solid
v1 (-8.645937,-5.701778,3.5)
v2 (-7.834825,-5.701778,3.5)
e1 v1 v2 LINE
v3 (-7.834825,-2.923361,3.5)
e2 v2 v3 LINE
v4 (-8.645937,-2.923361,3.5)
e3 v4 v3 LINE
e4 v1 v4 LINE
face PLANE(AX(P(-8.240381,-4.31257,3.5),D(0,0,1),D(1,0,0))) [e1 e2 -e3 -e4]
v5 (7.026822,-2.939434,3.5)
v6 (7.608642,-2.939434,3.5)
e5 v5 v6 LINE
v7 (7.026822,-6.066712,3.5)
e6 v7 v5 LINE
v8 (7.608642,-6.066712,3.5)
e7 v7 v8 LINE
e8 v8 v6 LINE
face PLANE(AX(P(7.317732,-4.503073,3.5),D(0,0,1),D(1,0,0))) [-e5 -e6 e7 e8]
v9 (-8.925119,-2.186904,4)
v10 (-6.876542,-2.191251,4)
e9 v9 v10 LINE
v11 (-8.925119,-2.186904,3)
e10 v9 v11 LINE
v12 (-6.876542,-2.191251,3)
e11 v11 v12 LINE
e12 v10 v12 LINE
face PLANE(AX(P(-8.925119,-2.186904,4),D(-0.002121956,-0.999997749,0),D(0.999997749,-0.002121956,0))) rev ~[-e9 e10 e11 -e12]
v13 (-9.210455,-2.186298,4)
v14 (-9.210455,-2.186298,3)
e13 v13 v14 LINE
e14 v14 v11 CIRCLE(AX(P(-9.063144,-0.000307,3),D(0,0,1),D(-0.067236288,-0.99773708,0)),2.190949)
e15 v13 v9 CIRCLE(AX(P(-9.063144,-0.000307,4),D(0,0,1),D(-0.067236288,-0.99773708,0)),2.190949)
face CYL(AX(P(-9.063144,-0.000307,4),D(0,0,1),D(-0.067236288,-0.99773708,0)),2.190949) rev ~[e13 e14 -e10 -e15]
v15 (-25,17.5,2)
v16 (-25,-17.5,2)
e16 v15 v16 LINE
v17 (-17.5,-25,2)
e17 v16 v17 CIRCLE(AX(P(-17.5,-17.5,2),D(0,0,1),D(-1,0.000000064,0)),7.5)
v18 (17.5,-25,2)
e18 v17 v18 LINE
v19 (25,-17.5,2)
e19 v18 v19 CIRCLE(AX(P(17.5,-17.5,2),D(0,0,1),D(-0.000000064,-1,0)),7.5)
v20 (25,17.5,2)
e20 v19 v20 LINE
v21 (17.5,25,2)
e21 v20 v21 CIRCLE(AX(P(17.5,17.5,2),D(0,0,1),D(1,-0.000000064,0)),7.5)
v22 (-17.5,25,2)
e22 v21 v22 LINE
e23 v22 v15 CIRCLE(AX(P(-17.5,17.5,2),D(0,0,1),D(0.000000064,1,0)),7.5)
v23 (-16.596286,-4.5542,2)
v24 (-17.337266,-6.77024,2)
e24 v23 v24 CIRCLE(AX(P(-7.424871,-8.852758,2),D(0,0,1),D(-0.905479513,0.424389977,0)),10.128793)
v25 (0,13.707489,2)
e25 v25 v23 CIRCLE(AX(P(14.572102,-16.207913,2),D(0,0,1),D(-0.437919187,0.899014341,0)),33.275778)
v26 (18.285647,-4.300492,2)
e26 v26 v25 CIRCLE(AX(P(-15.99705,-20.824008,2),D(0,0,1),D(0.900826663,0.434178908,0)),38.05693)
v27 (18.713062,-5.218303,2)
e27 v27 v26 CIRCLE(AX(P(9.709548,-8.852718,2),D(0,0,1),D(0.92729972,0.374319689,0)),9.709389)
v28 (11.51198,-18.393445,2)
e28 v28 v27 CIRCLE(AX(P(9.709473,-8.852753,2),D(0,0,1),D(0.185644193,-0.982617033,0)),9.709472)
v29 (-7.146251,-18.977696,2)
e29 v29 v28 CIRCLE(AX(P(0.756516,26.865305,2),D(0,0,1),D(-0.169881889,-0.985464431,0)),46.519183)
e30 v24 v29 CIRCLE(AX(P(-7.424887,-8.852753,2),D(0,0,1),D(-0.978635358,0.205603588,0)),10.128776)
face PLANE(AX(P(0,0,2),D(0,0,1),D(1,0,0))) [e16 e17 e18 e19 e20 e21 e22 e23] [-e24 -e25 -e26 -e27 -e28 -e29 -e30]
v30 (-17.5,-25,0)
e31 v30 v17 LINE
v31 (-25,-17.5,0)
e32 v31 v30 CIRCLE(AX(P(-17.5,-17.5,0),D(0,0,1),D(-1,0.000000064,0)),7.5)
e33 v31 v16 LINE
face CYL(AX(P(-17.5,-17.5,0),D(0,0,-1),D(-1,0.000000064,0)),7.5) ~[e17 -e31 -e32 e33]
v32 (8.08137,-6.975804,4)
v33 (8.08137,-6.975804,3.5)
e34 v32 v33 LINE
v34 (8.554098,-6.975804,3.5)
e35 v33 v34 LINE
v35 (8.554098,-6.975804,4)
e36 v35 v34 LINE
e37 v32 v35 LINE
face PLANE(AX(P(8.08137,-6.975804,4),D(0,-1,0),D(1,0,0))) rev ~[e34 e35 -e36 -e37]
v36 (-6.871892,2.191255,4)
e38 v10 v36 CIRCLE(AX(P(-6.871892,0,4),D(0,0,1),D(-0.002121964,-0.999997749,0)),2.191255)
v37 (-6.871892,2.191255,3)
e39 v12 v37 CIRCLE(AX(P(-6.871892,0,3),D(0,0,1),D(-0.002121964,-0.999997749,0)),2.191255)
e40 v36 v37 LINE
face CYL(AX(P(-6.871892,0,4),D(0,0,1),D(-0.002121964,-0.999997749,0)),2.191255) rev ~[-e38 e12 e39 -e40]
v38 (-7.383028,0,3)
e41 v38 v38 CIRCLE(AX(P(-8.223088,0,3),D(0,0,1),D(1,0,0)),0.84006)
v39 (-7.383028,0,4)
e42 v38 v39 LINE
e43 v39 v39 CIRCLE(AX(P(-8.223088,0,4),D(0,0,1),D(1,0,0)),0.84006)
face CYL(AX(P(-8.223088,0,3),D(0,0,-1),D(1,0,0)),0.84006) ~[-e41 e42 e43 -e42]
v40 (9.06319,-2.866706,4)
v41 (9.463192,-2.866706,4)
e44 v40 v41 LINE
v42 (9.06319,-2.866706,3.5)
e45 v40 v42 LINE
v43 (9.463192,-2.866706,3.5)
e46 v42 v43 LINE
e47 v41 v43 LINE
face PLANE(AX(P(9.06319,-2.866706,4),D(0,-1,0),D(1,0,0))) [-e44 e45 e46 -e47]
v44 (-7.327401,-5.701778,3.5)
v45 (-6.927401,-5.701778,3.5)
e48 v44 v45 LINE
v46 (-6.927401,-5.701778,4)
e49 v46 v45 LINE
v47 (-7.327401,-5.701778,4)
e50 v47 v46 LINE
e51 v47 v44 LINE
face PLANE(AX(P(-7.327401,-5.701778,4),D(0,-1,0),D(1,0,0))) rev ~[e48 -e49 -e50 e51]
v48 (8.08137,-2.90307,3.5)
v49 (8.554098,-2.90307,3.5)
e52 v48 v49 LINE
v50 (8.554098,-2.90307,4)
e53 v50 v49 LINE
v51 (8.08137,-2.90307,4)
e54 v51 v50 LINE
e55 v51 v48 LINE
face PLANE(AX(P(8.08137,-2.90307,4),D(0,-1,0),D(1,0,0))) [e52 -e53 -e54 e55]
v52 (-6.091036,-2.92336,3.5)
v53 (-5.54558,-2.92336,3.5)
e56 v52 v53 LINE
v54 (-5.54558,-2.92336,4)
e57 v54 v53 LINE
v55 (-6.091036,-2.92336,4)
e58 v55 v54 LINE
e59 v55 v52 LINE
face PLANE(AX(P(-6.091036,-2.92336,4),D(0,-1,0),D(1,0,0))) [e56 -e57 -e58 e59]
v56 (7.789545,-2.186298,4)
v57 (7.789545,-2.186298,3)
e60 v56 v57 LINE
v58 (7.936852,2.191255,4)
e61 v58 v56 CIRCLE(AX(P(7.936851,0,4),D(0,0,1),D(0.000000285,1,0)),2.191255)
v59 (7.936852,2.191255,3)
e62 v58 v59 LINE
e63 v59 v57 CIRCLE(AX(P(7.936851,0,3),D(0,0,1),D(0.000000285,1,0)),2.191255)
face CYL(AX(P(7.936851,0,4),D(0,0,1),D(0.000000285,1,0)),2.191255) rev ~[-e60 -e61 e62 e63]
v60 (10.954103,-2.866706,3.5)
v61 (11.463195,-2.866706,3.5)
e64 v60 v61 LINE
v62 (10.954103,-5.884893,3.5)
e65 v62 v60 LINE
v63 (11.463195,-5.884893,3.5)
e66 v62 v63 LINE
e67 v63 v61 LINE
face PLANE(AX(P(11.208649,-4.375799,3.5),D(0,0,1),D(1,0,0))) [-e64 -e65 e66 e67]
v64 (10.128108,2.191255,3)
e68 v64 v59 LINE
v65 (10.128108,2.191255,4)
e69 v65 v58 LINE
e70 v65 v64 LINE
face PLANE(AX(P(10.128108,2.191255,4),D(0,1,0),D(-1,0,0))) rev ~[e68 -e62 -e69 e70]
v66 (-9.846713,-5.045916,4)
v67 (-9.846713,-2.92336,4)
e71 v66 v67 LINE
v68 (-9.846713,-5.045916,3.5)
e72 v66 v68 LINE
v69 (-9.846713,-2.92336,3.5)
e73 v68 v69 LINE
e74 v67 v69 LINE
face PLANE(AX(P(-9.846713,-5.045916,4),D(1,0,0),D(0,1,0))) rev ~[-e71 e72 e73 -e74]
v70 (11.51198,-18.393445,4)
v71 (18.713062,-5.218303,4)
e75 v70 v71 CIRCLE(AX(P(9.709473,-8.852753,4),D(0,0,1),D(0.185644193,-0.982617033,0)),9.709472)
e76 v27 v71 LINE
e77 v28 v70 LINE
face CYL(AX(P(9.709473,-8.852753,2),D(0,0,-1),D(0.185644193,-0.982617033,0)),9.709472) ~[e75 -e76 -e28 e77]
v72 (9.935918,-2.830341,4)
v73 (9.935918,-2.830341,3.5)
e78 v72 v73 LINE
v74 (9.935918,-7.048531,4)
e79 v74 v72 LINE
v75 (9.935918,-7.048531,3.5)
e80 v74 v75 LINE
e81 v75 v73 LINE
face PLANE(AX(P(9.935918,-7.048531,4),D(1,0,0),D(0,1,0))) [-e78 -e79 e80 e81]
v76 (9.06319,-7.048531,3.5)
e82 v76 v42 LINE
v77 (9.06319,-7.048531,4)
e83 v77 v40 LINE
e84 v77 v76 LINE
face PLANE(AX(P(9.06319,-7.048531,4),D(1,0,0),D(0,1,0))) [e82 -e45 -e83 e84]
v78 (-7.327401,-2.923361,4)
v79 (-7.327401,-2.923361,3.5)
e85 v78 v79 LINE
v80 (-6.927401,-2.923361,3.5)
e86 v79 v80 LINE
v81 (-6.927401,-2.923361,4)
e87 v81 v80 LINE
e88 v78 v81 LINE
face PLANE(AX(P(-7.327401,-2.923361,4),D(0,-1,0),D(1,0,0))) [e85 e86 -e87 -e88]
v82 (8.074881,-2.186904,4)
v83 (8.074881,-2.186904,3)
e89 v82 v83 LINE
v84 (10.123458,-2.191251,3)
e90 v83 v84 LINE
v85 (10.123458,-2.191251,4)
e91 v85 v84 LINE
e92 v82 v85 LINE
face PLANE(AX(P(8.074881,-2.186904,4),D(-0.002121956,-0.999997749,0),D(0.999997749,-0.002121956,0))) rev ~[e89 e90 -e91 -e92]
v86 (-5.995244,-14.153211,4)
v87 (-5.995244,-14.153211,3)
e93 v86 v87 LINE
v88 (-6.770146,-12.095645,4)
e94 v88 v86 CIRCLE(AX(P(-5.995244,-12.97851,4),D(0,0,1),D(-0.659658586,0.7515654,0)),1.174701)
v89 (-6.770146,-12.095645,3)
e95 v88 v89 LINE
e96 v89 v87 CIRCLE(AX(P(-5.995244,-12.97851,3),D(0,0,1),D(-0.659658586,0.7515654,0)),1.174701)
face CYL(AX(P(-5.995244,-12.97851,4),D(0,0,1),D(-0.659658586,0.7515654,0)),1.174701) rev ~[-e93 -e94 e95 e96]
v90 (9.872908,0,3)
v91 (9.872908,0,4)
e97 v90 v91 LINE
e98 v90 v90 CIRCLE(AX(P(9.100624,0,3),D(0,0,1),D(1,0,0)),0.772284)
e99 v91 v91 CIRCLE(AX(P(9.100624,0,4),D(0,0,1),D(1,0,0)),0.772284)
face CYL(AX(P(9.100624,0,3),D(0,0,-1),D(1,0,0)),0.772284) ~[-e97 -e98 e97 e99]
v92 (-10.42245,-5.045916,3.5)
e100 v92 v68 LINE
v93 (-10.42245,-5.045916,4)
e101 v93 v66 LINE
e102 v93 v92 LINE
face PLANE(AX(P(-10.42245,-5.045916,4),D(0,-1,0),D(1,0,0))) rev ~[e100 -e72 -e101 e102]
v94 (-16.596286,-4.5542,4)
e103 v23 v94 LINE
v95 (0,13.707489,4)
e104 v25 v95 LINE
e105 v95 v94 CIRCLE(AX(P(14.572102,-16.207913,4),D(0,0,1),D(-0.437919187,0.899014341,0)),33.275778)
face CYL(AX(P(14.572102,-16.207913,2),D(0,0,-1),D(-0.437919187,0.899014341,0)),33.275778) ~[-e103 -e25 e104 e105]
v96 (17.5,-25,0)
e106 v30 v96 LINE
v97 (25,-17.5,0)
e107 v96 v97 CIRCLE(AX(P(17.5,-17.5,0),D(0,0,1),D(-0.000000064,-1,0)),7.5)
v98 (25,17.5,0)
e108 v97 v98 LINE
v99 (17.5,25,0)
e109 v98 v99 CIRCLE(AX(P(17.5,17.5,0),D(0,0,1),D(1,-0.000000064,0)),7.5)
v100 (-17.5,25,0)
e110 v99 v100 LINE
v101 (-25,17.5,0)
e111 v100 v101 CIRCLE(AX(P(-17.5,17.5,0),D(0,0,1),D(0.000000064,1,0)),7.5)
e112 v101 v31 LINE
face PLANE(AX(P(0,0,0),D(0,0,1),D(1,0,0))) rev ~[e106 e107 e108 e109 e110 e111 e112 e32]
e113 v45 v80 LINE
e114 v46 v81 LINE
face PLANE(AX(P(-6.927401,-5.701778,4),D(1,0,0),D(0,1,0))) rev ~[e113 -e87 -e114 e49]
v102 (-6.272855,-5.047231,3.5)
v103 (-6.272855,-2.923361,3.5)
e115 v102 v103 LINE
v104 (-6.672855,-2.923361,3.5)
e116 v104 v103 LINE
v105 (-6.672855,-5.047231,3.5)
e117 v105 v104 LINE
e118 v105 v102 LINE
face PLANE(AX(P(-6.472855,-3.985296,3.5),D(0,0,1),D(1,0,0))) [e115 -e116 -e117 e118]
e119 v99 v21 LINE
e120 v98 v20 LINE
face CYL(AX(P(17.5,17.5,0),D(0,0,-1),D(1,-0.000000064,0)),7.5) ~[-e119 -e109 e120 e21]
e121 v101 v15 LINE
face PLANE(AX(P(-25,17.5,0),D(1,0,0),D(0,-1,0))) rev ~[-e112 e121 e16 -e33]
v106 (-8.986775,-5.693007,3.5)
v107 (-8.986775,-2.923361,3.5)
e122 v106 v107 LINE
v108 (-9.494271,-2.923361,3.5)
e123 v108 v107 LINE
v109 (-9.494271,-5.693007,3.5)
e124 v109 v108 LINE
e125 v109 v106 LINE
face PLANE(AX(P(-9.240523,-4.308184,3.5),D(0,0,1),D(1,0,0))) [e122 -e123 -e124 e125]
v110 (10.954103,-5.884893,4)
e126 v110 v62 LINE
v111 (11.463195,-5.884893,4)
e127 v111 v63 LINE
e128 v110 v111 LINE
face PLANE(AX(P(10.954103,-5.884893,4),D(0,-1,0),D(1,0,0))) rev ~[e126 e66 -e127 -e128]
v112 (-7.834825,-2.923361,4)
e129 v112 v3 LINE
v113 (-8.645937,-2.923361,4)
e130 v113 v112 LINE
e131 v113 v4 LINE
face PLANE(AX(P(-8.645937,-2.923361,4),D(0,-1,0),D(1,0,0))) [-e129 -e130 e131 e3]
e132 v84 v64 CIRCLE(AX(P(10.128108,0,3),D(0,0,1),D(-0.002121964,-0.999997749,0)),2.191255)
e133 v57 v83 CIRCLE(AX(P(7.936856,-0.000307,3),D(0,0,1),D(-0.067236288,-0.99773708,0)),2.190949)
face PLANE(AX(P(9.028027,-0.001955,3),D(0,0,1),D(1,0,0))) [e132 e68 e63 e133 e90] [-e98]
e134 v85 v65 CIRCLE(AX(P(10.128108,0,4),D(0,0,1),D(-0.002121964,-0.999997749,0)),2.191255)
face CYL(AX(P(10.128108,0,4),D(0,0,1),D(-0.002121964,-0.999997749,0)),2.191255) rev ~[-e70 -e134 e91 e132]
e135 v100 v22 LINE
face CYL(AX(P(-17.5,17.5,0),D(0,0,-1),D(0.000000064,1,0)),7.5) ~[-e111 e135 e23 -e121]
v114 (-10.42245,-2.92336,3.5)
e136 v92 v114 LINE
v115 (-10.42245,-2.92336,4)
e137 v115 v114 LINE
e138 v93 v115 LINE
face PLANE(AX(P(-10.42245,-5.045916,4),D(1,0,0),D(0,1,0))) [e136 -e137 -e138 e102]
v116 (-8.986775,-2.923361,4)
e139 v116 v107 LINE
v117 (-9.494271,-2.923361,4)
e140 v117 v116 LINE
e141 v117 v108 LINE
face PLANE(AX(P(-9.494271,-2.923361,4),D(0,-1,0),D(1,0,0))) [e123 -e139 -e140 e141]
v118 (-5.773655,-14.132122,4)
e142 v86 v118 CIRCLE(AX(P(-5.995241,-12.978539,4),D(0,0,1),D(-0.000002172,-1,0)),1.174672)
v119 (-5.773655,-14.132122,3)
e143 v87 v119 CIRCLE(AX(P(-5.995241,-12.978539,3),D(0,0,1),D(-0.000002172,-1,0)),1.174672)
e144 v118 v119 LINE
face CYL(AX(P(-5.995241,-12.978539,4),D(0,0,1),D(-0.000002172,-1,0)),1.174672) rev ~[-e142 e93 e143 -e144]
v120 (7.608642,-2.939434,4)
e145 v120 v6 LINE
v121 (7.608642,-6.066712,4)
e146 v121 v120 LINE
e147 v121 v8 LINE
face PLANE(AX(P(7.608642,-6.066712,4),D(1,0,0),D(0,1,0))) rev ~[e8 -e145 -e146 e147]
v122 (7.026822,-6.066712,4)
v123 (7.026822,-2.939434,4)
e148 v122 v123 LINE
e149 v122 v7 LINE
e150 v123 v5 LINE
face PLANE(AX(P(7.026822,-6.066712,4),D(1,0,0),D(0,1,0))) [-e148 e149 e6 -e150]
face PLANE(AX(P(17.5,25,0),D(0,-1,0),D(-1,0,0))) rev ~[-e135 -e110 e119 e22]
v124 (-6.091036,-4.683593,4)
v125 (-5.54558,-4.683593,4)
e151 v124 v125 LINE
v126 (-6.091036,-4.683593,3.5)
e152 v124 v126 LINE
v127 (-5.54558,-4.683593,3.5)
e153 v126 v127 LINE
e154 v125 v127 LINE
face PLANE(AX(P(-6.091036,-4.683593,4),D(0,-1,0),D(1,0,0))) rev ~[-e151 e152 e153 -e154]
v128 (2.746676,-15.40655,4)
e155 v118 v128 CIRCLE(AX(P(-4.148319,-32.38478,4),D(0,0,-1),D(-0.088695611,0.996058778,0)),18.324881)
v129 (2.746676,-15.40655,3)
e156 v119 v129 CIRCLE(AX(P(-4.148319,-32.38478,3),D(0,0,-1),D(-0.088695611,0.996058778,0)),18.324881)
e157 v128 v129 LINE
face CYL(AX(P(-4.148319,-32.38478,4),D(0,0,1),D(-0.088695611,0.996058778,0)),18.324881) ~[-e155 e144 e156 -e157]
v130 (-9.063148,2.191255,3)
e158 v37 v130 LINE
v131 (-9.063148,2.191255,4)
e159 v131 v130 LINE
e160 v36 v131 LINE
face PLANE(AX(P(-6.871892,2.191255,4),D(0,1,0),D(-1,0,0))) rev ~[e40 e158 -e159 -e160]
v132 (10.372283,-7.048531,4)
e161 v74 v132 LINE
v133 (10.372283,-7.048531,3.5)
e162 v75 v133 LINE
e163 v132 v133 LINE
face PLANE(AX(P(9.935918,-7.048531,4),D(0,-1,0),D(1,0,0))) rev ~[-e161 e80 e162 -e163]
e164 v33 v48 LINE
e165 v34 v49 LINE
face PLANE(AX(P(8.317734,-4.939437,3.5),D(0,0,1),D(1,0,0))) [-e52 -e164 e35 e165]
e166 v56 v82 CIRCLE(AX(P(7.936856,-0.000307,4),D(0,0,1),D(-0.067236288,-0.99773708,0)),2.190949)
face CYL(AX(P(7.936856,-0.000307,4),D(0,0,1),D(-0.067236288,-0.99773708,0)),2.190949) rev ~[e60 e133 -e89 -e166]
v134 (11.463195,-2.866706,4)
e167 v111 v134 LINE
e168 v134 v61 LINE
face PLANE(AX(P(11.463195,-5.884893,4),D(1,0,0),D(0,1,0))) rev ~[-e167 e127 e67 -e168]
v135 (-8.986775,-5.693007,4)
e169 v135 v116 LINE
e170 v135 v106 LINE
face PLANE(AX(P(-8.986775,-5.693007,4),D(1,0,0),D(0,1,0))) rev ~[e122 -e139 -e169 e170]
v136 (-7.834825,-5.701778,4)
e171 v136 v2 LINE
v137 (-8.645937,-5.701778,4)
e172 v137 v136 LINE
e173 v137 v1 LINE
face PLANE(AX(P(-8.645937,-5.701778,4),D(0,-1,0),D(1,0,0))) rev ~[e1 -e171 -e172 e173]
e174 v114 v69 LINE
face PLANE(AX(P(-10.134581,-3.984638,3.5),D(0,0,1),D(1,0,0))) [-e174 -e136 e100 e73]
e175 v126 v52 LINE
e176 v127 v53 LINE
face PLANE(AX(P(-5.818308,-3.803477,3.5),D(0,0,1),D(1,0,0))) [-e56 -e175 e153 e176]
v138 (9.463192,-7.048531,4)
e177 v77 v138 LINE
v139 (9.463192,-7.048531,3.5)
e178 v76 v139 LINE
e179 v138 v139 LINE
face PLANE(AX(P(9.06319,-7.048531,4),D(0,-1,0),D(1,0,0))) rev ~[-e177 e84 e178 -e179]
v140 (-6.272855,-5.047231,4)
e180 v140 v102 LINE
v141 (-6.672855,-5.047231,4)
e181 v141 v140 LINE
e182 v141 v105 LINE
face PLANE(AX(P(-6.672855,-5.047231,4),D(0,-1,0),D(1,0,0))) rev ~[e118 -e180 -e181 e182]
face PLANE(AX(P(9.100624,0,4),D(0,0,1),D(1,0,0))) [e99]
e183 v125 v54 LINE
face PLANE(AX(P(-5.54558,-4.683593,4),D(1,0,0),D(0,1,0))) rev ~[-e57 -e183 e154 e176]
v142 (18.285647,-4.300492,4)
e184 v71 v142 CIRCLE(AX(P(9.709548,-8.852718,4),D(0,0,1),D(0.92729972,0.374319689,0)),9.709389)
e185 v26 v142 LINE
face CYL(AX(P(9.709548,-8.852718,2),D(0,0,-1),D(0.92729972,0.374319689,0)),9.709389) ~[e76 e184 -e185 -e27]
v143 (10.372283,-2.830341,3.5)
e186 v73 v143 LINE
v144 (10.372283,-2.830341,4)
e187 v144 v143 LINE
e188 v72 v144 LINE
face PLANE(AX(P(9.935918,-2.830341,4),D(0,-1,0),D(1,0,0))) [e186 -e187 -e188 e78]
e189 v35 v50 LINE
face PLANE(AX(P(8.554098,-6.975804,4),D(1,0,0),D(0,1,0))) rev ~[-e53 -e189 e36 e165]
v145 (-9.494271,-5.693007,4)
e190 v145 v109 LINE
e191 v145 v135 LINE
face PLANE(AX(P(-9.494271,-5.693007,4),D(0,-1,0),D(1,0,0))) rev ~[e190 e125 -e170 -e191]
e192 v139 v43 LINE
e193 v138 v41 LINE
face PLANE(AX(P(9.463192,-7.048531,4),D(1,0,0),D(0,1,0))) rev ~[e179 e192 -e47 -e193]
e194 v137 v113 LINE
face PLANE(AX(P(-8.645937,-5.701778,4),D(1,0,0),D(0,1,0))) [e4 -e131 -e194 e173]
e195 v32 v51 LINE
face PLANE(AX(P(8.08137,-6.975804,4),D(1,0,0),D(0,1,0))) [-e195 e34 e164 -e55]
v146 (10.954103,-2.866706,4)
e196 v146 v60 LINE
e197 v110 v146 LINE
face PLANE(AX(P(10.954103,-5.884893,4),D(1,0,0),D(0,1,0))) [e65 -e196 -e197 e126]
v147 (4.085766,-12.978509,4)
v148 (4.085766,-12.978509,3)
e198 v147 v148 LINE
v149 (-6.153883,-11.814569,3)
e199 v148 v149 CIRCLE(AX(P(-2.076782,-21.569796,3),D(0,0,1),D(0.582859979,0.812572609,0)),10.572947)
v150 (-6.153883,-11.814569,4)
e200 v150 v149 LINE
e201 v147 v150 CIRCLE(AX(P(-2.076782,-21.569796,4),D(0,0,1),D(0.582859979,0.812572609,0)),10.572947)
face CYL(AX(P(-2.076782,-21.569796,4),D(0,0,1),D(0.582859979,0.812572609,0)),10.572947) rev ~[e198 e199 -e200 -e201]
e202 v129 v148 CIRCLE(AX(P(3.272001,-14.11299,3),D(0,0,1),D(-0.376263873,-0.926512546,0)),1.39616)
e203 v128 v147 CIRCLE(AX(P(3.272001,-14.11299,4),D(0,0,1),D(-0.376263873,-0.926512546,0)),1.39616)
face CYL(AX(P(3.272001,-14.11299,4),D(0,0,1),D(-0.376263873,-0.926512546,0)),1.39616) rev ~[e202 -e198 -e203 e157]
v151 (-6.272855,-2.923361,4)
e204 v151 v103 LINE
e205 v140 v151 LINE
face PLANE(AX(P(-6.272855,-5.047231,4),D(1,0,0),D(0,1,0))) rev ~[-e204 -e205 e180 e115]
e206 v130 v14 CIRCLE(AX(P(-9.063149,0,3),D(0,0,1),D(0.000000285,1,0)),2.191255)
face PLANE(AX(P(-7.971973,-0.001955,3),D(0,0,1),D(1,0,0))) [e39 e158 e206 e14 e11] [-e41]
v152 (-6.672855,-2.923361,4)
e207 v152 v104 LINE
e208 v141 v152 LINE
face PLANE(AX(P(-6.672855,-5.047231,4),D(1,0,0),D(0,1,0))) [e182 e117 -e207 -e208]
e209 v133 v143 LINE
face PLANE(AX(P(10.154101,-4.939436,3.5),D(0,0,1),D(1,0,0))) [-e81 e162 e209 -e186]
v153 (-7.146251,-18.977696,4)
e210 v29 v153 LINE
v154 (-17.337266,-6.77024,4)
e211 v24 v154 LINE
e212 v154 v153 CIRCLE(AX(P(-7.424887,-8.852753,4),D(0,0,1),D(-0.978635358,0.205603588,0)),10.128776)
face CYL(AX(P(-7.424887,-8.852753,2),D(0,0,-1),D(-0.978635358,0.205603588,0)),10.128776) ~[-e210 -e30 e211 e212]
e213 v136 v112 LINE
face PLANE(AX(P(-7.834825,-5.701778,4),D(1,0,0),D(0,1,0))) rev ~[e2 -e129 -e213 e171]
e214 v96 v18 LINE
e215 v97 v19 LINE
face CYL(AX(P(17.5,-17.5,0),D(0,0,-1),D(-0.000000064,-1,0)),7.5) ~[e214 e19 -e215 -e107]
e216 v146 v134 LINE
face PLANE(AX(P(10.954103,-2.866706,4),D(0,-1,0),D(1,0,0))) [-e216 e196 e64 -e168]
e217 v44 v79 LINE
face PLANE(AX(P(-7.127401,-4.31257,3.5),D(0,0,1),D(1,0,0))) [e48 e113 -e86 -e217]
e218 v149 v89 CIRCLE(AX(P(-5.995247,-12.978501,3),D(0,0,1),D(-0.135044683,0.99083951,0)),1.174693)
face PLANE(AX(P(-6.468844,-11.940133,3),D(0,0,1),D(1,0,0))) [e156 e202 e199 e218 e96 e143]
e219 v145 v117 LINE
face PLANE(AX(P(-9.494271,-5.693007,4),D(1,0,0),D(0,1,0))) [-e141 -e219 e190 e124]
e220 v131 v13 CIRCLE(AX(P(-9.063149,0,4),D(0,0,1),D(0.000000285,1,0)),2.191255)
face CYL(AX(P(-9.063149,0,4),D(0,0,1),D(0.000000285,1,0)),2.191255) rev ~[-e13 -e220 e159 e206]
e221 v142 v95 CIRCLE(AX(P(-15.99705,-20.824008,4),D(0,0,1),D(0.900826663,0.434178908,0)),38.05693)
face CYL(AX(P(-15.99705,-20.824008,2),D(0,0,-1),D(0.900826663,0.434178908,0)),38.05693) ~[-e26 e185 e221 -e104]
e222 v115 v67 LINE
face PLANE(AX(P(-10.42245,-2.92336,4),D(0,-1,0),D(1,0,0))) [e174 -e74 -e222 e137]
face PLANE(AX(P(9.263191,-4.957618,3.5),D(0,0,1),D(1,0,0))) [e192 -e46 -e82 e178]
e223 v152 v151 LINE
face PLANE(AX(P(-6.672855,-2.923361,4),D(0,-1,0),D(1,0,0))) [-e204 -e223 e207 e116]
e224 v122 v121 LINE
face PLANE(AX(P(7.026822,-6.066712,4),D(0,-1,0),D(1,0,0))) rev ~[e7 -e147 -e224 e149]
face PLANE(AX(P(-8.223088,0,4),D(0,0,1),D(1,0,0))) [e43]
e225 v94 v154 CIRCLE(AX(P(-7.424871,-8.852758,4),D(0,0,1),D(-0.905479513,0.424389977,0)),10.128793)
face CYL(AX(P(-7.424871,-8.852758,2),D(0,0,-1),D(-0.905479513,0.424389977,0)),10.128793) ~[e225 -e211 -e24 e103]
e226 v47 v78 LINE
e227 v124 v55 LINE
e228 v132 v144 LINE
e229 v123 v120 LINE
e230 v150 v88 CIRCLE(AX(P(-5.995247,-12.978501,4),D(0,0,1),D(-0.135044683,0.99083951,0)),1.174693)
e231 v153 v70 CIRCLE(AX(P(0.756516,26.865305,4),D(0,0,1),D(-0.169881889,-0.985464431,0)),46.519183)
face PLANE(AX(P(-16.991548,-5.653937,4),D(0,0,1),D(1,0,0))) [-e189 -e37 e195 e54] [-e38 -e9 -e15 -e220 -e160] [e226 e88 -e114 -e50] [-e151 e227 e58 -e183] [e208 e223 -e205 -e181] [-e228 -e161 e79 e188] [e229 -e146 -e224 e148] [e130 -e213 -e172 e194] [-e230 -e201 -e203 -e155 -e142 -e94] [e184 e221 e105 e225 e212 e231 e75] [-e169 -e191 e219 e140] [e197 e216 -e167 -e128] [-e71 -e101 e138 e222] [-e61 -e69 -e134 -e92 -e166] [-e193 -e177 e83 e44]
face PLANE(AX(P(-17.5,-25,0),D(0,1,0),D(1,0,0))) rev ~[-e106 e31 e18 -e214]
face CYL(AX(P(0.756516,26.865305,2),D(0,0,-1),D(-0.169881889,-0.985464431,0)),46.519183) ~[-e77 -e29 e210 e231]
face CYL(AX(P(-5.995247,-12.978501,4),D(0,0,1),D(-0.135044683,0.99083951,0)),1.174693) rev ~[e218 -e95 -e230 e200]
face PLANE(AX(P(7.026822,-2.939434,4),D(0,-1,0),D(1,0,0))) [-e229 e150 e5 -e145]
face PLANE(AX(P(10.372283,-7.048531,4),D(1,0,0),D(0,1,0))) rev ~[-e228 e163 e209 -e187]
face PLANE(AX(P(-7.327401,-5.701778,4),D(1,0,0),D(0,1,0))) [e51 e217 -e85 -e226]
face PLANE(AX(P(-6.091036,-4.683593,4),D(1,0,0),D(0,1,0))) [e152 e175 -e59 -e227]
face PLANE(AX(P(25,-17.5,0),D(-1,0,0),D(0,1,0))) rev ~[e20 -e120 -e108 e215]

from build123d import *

# Parameters (mm, degrees)
F1_DEPTH  = 2
F3_DEPTH  = 2
F5_DEPTH  = 1
F6_R      = 0.84006
F7_DEPTH  = 1
F8_R      = 0.772284
F9_DEPTH  = 1
F10_W     = 0.575737
F10_H     = 2.122555
F10_W_2   = 0.4
F10_H_2   = 2.778417
F10_H_3   = 2.12387
F10_W_3   = 0.545456
F10_H_4   = 1.760233
F10_W_4   = 0.581819
F10_H_5   = 3.127278
F10_W_5   = 0.472728
F10_H_6   = 4.072734
F10_W_6   = 0.400001
F10_H_7   = 4.181825
F10_W_7   = 0.436365
F10_H_8   = 4.218189
F10_W_8   = 0.509092
F10_H_9   = 3.018187
F10_W_9   = 0.507496
F10_H_10  = 2.769646
F10_W_10  = 0.811112
F11_DEPTH = 0.5


with BuildPart() as f1:
    # F0 (on Top) → F1 (new body)
    with BuildSketch(Plane.XY):
        with BuildLine():
            Line((17.5, 25), (-17.5, 25))
            ThreePointArc((-17.5, 25), (-22.803301, 22.803301), (-25, 17.5))
            Line((-25, 17.5), (-25, -17.5))
            ThreePointArc((-25, -17.5), (-22.803301, -22.803301), (-17.5, -25))
            Line((-17.5, -25), (17.5, -25))
            ThreePointArc((17.5, -25), (22.803301, -22.803301), (25, -17.5))
            Line((25, -17.5), (25, 17.5))
            ThreePointArc((25, 17.5), (22.803301, 22.803301), (17.5, 25))
        make_face()
    extrude(amount=F1_DEPTH)

    # F2 (on face) → F3 (join)
    with BuildSketch(Plane.XY.offset(2)):
        with BuildLine():
            ThreePointArc((-17.337266, -6.77024), (-16.986234, -5.655714), (-16.596286, -4.5542))
            ThreePointArc((-16.596286, -4.5542), (-17.030893, -5.640781), (-17.337266, -6.77024))
        make_face()
        with BuildLine():
            ThreePointArc((0, 13.707489), (-10.053503, 6.171922), (-16.596286, -4.5542))
            ThreePointArc((-16.596286, -4.5542), (-16.986234, -5.655714), (-17.337266, -6.77024))
            ThreePointArc((-17.337266, -6.77024), (-15.200345, -15.343852), (-7.146251, -18.977696))
            ThreePointArc((-7.146251, -18.977696), (2.212472, -19.631089), (11.51198, -18.393445))
            ThreePointArc((11.51198, -18.393445), (18.229392, -13.509449), (18.713062, -5.218303))
            ThreePointArc((18.713062, -5.218303), (18.502407, -4.757976), (18.285647, -4.300492))
            ThreePointArc((18.285647, -4.300492), (10.706603, 6.29139), (0, 13.707489))
        make_face()
        with BuildLine():
            ThreePointArc((18.713062, -5.218303), (18.511326, -4.753823), (18.285647, -4.300492))
            ThreePointArc((18.285647, -4.300492), (18.502407, -4.757976), (18.713062, -5.218303))
        make_face()
    extrude(amount=F3_DEPTH)

    # F4 (on face) → F5 (cut)
    with BuildSketch(Plane.XY.offset(4)):
        with BuildLine():
            Line((-6.871892, 2.191255), (-9.063148, 2.191255))
            ThreePointArc((-9.063148, 2.191255), (-11.253164, 0.073695), (-9.210455, -2.186298))
            Line((-9.210455, -2.186298), (-8.925119, -2.186904))
            Line((-8.925119, -2.186904), (-6.876542, -2.191251))
            ThreePointArc((-6.876542, -2.191251), (-4.680638, -0.002325), (-6.871892, 2.191255))
        make_face()
        with BuildLine():
            Line((-8.925119, -2.186904), (-9.210455, -2.186298))
            ThreePointArc((-9.210455, -2.186298), (-9.067797, -2.191251), (-8.925119, -2.186904))
        make_face()
        with BuildLine():
            Line((10.128108, 2.191255), (7.936852, 2.191255))
            ThreePointArc((7.936852, 2.191255), (5.746836, 0.073695), (7.789545, -2.186298))
            Line((7.789545, -2.186298), (8.074881, -2.186904))
            Line((8.074881, -2.186904), (10.123458, -2.191251))
            ThreePointArc((10.123458, -2.191251), (12.319362, -0.002325), (10.128108, 2.191255))
        make_face()
        with BuildLine():
            Line((8.074881, -2.186904), (7.789545, -2.186298))
            ThreePointArc((7.789545, -2.186298), (7.932203, -2.191251), (8.074881, -2.186904))
        make_face()
        with BuildLine():
            ThreePointArc((-6.770146, -12.095645), (-6.464266, -11.95017), (-6.153883, -11.814569))
            ThreePointArc((-6.153883, -11.814569), (-6.482713, -11.909726), (-6.770146, -12.095645))
        make_face()
        with BuildLine():
            ThreePointArc((4.085766, -12.978509), (-0.882645, -11.0645), (-6.153883, -11.814569))
            ThreePointArc((-6.153883, -11.814569), (-6.464266, -11.95017), (-6.770146, -12.095645))
            ThreePointArc((-6.770146, -12.095645), (-7.094568, -13.392527), (-5.995244, -14.153211))
            ThreePointArc((-5.995244, -14.153211), (-5.884481, -14.14233), (-5.773655, -14.132122))
            ThreePointArc((-5.773655, -14.132122), (-1.437532, -14.261511), (2.746676, -15.40655))
            ThreePointArc((2.746676, -15.40655), (4.494557, -14.787244), (4.085766, -12.978509))
        make_face()
        with BuildLine():
            ThreePointArc((-5.773655, -14.132122), (-5.884481, -14.14233), (-5.995244, -14.153211))
            ThreePointArc((-5.995244, -14.153211), (-5.883949, -14.147927), (-5.773655, -14.132122))
        make_face()
    extrude(amount=-F5_DEPTH, mode=Mode.SUBTRACT)

    # F6 (on face) → F7 (join)
    with BuildSketch(Plane.XY.offset(3)):
        with Locations((-8.223088, 0)):
            Circle(F6_R)
    extrude(amount=F7_DEPTH)

    # F8 (on face) → F9 (join)
    with BuildSketch(Plane.XY.offset(3)):
        with Locations((9.100624, 0)):
            Circle(F8_R)
    extrude(amount=F9_DEPTH)

    # F10 (on face) → F11 (cut)
    with BuildSketch(Plane.XY.offset(4)):
        with Locations((-10.134581, -3.984638)):
            Rectangle(F10_W, F10_H)
        with Locations((-7.127401, -4.31257)):
            Rectangle(F10_W_2, F10_H_2)
        with Locations((-6.472855, -3.985296)):
            Rectangle(F10_W_2, F10_H_3)
        with Locations((-5.818308, -3.803477)):
            Rectangle(F10_W_3, F10_H_4)
        with Locations((7.317732, -4.503073)):
            Rectangle(F10_W_4, F10_H_5)
        with Locations((8.317734, -4.939437)):
            Rectangle(F10_W_5, F10_H_6)
        with Locations((9.263191, -4.957618)):
            Rectangle(F10_W_6, F10_H_7)
        with Locations((10.154101, -4.939436)):
            Rectangle(F10_W_7, F10_H_8)
        with Locations((11.208649, -4.375799)):
            Rectangle(F10_W_8, F10_H_9)
        with Locations((-9.240523, -4.308184)):
            Rectangle(F10_W_9, F10_H_10)
        with Locations((-8.240381, -4.31257)):
            Rectangle(F10_W_10, F10_H_2)
    extrude(amount=-F11_DEPTH, mode=Mode.SUBTRACT)


solid = f1.part
